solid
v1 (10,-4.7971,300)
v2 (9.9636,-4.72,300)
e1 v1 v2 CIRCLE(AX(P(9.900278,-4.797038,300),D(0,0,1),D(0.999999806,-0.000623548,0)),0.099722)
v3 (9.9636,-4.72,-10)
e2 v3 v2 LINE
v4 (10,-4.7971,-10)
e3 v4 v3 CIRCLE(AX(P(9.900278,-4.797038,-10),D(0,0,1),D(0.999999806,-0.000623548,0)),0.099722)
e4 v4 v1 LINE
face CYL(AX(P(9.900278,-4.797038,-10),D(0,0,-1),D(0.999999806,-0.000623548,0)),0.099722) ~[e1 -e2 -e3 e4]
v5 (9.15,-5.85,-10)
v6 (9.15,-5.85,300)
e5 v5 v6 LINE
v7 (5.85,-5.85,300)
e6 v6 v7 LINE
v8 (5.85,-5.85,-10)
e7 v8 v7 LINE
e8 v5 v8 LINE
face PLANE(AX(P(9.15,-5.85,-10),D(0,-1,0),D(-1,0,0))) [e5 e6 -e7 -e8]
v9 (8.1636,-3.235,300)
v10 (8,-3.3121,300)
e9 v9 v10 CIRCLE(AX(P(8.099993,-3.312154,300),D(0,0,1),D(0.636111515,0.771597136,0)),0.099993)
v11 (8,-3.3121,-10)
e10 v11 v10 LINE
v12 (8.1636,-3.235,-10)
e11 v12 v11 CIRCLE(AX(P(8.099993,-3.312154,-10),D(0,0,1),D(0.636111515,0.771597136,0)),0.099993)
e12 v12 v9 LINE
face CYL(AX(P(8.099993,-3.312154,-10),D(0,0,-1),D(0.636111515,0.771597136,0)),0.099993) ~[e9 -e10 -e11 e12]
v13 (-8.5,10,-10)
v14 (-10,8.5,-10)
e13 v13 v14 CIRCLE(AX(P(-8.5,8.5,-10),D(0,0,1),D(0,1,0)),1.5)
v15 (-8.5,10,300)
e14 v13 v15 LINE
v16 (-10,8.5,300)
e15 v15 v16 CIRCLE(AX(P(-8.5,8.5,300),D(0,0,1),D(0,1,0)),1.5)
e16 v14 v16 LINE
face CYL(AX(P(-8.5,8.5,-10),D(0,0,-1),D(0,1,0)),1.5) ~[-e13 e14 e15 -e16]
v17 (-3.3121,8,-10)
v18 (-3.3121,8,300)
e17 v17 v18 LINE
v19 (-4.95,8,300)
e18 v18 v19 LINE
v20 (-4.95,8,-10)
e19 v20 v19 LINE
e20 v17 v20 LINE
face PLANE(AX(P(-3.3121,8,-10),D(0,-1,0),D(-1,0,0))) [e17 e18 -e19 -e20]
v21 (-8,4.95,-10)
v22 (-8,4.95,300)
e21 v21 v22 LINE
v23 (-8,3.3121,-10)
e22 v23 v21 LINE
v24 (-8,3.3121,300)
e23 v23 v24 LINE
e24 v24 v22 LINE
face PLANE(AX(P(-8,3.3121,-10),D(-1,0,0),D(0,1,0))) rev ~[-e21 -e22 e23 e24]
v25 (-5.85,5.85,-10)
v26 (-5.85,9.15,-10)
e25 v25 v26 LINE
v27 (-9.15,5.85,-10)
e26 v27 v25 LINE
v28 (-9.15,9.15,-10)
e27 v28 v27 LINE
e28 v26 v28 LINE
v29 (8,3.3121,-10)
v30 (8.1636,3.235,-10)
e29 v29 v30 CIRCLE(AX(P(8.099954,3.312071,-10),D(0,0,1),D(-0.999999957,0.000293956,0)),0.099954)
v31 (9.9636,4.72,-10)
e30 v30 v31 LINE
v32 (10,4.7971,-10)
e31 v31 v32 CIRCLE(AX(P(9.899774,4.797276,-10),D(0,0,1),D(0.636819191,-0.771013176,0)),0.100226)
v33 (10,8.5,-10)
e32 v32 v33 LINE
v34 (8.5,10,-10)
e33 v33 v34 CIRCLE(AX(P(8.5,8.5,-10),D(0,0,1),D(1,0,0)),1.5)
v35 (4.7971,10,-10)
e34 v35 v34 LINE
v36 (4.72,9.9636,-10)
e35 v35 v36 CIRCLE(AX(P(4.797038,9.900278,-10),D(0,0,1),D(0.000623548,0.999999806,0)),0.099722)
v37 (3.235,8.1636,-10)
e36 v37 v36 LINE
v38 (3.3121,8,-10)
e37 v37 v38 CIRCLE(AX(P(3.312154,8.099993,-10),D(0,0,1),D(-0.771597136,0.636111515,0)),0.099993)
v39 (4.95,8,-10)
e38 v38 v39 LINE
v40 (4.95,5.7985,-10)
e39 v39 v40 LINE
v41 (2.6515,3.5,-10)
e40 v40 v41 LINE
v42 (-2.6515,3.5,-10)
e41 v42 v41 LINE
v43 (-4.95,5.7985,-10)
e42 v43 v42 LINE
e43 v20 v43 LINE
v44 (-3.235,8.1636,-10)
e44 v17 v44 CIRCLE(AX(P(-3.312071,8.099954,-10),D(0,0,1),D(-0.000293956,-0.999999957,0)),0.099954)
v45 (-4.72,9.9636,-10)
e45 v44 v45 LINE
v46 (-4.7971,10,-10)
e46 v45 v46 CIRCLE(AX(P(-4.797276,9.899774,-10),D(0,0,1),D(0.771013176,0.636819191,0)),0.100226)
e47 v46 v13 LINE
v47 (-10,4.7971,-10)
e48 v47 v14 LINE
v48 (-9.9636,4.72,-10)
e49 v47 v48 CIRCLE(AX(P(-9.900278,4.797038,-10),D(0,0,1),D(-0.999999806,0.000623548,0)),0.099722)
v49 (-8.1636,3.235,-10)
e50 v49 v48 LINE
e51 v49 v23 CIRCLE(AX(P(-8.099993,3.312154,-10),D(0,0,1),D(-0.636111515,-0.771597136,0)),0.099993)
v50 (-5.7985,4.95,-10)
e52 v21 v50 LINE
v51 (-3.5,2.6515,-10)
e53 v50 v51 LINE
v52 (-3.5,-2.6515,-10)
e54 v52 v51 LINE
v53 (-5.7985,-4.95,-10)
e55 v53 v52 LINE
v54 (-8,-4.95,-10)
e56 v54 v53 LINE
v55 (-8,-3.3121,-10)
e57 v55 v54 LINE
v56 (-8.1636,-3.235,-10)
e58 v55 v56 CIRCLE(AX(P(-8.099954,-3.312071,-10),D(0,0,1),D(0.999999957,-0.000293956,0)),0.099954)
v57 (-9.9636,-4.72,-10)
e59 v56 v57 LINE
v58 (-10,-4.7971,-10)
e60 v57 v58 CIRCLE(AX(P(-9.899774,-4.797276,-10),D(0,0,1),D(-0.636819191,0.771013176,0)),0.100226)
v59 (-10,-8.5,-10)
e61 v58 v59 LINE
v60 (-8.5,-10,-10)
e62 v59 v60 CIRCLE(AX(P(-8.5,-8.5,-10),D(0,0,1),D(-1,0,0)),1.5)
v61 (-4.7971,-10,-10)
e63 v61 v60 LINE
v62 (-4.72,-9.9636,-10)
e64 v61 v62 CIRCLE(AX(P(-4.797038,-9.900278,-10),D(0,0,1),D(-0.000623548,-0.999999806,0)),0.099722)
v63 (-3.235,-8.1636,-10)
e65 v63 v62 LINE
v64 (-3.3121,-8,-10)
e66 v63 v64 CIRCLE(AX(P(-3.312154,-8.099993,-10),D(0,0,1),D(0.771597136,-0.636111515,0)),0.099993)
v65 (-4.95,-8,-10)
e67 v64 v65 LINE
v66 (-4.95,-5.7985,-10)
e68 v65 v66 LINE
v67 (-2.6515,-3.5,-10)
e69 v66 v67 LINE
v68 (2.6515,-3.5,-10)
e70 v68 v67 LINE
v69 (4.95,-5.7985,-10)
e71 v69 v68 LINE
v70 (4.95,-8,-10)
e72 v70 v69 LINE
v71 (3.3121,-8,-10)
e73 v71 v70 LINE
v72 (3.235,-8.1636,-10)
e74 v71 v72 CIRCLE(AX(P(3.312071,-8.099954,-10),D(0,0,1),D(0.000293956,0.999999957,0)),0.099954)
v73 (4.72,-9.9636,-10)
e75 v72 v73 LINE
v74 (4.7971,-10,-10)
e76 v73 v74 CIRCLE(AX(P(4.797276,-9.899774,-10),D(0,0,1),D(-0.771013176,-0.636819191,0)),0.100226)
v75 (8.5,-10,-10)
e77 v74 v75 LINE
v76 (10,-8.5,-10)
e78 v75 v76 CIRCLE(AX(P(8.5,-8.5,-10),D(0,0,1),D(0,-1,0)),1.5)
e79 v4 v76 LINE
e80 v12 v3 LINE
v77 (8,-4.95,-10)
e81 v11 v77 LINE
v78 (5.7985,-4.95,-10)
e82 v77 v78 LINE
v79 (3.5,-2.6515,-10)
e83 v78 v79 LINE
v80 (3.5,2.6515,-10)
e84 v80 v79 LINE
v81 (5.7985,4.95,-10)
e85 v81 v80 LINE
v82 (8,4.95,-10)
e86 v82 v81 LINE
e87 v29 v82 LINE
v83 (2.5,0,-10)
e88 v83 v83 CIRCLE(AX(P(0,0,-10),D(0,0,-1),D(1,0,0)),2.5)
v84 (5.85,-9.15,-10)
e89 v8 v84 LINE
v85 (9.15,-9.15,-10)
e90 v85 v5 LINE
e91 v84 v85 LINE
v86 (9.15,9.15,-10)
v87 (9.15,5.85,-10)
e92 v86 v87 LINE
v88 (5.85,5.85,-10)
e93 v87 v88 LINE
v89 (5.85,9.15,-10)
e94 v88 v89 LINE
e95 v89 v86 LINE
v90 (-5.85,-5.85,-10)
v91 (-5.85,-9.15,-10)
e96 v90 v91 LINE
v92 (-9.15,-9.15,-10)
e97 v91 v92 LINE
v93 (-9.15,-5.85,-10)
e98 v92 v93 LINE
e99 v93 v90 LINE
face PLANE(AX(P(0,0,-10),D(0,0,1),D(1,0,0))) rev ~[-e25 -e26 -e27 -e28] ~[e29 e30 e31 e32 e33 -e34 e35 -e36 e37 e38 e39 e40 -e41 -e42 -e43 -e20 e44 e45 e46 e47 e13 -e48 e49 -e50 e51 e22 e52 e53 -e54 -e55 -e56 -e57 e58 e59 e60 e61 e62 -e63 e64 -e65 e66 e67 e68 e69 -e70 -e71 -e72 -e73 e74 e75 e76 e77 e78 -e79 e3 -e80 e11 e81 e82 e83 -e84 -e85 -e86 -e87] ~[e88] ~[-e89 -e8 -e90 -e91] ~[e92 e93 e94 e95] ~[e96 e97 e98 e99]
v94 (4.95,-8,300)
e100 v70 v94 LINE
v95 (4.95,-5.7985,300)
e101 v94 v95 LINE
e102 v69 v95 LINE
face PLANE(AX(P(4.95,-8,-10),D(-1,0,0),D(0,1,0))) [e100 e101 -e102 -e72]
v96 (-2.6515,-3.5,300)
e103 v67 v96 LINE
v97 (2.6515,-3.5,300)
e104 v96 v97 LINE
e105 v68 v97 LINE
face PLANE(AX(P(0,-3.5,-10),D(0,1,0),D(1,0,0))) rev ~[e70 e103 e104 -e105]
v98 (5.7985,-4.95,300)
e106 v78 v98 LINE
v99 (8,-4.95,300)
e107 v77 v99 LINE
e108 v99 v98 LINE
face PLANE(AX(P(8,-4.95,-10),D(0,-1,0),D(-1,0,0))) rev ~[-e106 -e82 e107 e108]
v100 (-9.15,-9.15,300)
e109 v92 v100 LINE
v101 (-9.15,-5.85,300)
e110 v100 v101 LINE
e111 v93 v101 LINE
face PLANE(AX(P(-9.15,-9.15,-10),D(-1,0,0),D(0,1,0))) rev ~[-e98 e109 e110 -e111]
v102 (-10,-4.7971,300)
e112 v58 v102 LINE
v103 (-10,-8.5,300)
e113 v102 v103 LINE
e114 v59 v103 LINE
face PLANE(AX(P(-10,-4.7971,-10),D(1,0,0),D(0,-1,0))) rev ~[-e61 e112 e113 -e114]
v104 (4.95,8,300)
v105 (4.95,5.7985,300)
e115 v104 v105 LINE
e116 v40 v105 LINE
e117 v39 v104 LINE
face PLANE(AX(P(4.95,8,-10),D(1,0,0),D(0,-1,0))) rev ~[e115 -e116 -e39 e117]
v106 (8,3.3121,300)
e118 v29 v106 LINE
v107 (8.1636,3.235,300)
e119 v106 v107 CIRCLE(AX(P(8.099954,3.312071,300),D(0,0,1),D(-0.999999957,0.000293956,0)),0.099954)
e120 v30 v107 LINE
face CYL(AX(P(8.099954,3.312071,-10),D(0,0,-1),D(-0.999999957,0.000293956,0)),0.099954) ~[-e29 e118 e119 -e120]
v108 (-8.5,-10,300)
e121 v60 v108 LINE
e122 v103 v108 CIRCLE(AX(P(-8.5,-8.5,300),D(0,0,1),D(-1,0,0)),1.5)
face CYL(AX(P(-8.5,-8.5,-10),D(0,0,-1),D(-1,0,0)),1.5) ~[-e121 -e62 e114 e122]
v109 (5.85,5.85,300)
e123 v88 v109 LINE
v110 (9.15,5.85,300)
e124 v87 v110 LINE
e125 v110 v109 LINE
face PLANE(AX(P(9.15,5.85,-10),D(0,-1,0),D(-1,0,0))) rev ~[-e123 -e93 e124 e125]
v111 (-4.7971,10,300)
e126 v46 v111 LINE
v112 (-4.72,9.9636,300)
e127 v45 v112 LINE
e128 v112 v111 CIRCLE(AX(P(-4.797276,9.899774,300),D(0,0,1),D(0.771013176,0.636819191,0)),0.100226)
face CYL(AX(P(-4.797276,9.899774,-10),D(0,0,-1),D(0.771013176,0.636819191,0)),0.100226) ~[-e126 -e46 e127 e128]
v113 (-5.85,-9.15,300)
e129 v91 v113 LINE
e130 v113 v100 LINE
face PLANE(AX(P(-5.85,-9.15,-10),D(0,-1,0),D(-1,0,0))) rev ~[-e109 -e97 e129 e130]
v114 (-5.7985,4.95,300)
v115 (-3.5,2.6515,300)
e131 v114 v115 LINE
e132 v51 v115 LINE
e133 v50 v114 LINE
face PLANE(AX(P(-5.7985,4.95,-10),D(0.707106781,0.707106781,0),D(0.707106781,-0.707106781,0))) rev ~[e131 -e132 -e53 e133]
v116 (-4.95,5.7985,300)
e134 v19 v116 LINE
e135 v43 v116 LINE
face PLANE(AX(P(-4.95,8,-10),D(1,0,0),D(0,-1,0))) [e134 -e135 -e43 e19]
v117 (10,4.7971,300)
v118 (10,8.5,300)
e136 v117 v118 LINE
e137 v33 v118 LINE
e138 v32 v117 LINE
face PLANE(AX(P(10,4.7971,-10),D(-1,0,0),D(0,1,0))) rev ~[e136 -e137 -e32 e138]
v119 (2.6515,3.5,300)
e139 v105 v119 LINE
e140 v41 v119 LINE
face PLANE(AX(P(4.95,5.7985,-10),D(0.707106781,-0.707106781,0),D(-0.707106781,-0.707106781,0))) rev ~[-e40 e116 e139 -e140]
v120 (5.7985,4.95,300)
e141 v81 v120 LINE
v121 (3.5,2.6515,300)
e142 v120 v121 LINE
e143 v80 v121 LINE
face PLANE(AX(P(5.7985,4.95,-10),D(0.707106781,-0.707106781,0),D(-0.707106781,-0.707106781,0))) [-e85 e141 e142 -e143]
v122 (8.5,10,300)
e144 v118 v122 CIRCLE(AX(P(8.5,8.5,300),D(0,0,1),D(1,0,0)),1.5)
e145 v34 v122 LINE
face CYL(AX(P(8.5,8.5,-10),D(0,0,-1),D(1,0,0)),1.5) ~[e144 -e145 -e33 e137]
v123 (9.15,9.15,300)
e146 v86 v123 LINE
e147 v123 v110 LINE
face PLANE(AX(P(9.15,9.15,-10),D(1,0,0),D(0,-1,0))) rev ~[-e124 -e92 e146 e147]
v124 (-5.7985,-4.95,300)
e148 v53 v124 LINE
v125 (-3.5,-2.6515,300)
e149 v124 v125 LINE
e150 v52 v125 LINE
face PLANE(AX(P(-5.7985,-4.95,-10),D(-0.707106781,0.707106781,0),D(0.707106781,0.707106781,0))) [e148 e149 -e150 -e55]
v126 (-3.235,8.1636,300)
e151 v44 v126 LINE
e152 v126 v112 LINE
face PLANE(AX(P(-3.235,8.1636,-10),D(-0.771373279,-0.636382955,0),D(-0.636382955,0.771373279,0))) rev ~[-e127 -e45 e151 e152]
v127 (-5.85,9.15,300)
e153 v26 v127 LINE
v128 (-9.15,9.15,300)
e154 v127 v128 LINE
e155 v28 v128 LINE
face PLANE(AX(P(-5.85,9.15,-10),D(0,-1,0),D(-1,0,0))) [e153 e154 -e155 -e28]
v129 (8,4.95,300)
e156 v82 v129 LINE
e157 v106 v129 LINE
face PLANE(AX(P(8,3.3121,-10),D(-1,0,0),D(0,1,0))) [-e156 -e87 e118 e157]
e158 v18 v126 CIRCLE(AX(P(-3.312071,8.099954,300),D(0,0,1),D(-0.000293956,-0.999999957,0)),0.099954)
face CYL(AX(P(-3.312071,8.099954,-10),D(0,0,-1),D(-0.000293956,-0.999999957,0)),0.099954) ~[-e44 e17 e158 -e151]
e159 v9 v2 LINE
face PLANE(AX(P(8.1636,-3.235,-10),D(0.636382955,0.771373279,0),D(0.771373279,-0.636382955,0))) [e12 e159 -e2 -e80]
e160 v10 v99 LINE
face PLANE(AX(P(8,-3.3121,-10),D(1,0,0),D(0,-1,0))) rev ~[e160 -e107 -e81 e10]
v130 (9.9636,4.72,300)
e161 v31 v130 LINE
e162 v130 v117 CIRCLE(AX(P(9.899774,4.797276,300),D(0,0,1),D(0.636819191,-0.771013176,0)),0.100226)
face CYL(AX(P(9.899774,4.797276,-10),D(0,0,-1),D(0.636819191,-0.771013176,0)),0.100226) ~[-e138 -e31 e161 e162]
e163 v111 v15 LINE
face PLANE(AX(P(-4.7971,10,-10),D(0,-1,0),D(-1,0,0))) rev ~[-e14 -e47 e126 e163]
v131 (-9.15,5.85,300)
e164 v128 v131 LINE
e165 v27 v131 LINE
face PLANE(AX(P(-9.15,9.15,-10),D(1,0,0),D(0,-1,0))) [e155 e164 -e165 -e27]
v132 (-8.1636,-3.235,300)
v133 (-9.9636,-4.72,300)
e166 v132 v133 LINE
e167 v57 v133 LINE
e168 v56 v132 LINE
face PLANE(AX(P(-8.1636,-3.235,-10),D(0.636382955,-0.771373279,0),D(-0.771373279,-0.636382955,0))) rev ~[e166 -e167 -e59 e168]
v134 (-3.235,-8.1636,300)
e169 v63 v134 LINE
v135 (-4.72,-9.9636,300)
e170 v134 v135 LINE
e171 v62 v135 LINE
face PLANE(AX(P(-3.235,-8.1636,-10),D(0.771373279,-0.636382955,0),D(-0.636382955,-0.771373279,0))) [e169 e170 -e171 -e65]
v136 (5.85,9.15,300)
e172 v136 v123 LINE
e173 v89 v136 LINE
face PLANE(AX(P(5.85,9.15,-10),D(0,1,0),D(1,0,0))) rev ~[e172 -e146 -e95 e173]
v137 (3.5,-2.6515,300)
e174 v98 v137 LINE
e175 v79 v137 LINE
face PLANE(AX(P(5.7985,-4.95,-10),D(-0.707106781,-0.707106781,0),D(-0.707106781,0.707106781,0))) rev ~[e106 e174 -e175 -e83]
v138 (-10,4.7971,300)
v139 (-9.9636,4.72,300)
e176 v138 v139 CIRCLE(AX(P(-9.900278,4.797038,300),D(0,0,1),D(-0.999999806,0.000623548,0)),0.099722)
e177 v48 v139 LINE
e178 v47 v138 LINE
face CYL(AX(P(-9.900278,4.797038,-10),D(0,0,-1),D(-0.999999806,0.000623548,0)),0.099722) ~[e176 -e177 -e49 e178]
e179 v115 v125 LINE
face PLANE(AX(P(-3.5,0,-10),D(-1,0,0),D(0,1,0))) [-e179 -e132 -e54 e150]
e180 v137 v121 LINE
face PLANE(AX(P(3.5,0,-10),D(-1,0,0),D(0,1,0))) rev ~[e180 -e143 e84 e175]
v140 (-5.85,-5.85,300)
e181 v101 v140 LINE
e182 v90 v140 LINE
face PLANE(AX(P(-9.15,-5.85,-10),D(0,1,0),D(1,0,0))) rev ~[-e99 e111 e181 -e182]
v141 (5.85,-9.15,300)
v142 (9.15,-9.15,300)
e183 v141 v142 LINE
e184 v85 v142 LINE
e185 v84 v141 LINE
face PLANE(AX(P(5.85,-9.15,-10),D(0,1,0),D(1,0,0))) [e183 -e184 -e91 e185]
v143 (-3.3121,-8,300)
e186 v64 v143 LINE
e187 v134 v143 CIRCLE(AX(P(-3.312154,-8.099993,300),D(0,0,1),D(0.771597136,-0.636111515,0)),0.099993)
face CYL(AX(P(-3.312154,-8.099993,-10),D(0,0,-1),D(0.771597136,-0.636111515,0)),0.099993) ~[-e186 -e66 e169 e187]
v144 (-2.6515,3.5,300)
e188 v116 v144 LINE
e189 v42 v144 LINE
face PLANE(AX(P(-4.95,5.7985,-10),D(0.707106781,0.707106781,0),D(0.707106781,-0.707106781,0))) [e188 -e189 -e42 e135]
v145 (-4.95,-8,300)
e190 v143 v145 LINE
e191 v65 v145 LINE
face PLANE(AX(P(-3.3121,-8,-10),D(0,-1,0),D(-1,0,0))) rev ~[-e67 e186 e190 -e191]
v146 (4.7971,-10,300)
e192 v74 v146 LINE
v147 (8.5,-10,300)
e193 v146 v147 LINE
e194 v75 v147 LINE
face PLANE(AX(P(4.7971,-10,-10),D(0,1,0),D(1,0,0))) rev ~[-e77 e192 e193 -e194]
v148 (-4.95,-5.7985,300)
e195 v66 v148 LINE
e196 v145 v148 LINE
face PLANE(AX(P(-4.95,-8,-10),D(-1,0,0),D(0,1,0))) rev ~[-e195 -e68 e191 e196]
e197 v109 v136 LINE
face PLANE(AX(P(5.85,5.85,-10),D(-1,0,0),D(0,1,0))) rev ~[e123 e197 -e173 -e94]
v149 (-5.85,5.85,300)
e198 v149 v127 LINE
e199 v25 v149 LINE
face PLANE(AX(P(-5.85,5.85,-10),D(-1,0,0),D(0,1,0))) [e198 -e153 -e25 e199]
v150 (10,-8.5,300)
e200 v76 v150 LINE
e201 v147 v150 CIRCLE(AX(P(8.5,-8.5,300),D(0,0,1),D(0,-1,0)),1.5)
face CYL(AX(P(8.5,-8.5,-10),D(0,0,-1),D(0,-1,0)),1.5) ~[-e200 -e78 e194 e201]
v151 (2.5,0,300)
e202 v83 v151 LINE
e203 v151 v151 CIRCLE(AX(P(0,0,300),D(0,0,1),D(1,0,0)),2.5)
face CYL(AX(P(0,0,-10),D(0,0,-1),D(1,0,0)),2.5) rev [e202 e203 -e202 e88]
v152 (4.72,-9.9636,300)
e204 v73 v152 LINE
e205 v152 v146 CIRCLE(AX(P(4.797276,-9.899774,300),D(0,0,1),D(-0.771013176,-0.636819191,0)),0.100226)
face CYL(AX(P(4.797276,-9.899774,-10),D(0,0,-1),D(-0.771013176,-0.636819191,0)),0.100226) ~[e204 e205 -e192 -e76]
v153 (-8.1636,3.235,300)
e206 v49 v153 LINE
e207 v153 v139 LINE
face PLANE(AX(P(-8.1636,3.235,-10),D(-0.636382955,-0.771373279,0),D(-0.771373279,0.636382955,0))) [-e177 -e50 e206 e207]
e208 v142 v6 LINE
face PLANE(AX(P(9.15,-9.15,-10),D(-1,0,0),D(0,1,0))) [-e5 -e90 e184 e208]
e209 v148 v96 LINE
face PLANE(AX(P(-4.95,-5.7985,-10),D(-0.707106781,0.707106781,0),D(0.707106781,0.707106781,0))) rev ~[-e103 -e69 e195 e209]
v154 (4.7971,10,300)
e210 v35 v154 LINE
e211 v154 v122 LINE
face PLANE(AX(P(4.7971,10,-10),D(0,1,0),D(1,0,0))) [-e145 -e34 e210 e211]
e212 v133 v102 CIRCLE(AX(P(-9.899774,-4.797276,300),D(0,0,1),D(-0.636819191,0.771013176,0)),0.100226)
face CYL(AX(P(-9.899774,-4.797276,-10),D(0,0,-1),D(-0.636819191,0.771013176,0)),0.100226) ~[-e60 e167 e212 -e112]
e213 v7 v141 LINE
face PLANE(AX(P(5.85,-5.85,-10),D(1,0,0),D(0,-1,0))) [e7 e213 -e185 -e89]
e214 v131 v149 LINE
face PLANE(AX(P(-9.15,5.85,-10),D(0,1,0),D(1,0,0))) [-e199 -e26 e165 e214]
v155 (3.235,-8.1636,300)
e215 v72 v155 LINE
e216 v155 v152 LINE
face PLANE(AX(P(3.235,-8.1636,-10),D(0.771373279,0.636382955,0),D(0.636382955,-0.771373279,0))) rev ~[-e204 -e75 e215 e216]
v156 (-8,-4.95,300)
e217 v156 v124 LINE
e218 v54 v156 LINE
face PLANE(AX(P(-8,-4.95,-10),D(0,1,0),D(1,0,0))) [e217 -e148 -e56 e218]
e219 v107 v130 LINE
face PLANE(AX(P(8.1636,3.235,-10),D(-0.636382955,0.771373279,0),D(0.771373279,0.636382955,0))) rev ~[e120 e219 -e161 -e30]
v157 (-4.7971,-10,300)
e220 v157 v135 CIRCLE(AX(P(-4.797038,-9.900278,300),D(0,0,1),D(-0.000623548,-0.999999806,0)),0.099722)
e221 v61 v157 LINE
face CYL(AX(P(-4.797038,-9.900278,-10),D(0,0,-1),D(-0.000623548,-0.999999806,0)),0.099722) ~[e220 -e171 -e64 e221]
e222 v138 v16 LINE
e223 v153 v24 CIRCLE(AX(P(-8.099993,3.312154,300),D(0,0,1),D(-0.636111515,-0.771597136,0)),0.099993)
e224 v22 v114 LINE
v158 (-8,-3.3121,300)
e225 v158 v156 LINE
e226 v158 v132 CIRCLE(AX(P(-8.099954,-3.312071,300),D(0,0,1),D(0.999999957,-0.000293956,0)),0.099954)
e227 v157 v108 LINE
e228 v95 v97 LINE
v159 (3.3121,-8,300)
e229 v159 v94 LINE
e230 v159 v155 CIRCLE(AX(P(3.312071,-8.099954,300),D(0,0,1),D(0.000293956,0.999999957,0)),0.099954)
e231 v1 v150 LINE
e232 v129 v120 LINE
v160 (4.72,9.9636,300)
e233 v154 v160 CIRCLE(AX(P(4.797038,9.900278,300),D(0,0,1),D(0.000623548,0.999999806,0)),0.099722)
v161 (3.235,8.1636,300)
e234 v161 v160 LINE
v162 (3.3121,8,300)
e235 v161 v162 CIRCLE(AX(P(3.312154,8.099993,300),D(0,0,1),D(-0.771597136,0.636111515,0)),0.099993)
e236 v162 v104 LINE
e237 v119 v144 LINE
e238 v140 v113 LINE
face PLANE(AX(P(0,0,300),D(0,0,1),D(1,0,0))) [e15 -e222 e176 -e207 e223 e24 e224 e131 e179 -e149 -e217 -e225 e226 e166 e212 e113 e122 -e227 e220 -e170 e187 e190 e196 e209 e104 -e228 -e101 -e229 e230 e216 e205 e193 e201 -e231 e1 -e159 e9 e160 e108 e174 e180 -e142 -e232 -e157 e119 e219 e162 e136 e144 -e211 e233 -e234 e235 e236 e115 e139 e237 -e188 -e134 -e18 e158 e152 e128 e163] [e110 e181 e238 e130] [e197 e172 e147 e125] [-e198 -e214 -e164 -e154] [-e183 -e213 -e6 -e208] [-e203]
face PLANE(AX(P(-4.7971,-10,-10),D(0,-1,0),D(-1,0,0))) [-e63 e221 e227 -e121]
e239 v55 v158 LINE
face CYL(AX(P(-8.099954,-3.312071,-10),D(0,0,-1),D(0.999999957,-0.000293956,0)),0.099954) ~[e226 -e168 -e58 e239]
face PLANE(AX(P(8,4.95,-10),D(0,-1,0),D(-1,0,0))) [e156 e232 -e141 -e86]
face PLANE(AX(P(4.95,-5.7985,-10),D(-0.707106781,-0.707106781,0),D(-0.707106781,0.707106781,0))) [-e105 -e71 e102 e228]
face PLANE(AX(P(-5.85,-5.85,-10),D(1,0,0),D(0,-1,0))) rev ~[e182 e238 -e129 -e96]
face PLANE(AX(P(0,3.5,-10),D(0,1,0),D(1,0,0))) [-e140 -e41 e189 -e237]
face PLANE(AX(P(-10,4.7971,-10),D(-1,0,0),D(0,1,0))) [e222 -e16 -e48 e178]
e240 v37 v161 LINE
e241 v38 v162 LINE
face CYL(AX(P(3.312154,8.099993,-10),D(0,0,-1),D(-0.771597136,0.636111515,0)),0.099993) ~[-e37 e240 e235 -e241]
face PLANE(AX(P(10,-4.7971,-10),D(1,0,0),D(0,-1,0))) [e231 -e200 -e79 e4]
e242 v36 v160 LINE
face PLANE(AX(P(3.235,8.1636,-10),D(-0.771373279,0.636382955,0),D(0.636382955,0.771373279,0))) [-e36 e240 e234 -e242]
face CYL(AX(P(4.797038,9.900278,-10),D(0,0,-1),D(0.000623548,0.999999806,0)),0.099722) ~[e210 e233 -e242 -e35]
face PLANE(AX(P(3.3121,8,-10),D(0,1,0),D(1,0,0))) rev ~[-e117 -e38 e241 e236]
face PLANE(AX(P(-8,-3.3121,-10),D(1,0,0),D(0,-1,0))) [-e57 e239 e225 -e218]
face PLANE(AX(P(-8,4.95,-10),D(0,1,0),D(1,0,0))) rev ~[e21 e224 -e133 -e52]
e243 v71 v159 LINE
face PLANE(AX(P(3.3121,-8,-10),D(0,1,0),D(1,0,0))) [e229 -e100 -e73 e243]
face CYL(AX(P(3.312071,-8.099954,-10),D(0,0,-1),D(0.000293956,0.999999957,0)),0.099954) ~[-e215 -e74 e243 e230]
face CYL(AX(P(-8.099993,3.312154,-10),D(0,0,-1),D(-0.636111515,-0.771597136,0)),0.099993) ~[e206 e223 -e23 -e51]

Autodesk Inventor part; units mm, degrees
ref_plane "Начальная плоскость" through (0, 0, -10) normal (0, 0, 1) x (1, 0, 0)
ref_plane "Конечная плоскость" through (0, 0, 300) normal (0, 0, 1) x (1, 0, 0)
sketch "Эскиз" plane through (0, 0, 0) normal (0, 0, 1) x (1, 0, 0)
  line L0 (-14.4349, 0) -> (14.4349, 0) projected
  line L1 (0, -14) -> (0, 14) projected
  line L2 (0, 0) -> (7.5, 7.5) construction
  circle A0 centre (7.5, 7.5) radius 1.65 construction
  line L3 (5.85, 9.15) -> (9.15, 9.15)
  line L4 (9.15, 9.15) -> (9.15, 5.85)
  line L5 (9.15, 5.85) -> (5.85, 5.85)
  line L6 (5.85, 5.85) -> (5.85, 9.15)
  line L7 (3.235, 8.1636) -> (4.72, 9.9636)
  line L8 (4.7971, 10) -> (8.5, 10)
  line L9 (3.3121, 8) -> (4.95, 8)
  line L10 (4.95, 8) -> (4.95, 5.7985)
  line L11 (4.95, 5.7985) -> (2.6515, 3.5)
  line L12 (0, 3.5) -> (2.6515, 3.5)
  circle A1 centre (0, 0) radius 2.5
  line L13 (8.1636, 3.235) -> (9.9636, 4.72)
  line L14 (10, 4.7971) -> (10, 8.5)
  line L15 (8, 3.3121) -> (8, 4.95)
  line L16 (8, 4.95) -> (5.7985, 4.95)
  line L17 (5.7985, 4.95) -> (3.5, 2.6515)
  line L18 (3.5, 0) -> (3.5, 2.6515)
  arc A2 (10, 8.5) -> (8.5, 10) centre (8.5, 8.5) ccw
  line L19 (0, 0) -> (-7.5, 7.5) construction
  circle A3 centre (-7.5, 7.5) radius 1.65 construction
  line L20 (-5.85, 9.15) -> (-9.15, 9.15)
  line L21 (-9.15, 9.15) -> (-9.15, 5.85)
  line L22 (-9.15, 5.85) -> (-5.85, 5.85)
  line L23 (-5.85, 5.85) -> (-5.85, 9.15)
  line L24 (-3.235, 8.1636) -> (-4.72, 9.9636)
  line L25 (-4.7971, 10) -> (-8.5, 10)
  line L26 (-3.3121, 8) -> (-4.95, 8)
  line L27 (-4.95, 8) -> (-4.95, 5.7985)
  line L28 (-4.95, 5.7985) -> (-2.6515, 3.5)
  line L29 (0, 3.5) -> (-2.6515, 3.5)
  line L30 (-3.5, 0) -> (-3.5, 2.6515)
  line L31 (-5.7985, 4.95) -> (-3.5, 2.6515)
  line L32 (-8, 4.95) -> (-5.7985, 4.95)
  line L33 (-8, 3.3121) -> (-8, 4.95)
  line L34 (-8.1636, 3.235) -> (-9.9636, 4.72)
  line L35 (-10, 4.7971) -> (-10, 8.5)
  arc A4 (-8.5, 10) -> (-10, 8.5) centre (-8.5, 8.5) ccw
  line L36 (0, 14) -> (0, -14)
  line L37 (0, 0) -> (7.5, -7.5) construction
  circle A5 centre (7.5, -7.5) radius 1.65 construction
  line L38 (5.85, -9.15) -> (9.15, -9.15)
  line L39 (9.15, -9.15) -> (9.15, -5.85)
  line L40 (9.15, -5.85) -> (5.85, -5.85)
  line L41 (5.85, -5.85) -> (5.85, -9.15)
  line L42 (3.235, -8.1636) -> (4.72, -9.9636)
  line L43 (4.7971, -10) -> (8.5, -10)
  line L44 (3.3121, -8) -> (4.95, -8)
  line L45 (4.95, -8) -> (4.95, -5.7985)
  line L46 (4.95, -5.7985) -> (2.6515, -3.5)
  line L47 (0, -3.5) -> (2.6515, -3.5)
  line L48 (3.5, 0) -> (3.5, -2.6515)
  line L49 (5.7985, -4.95) -> (3.5, -2.6515)
  line L50 (8, -4.95) -> (5.7985, -4.95)
  line L51 (8, -3.3121) -> (8, -4.95)
  line L52 (8.1636, -3.235) -> (9.9636, -4.72)
  line L53 (10, -4.7971) -> (10, -8.5)
  arc A6 (8.5, -10) -> (10, -8.5) centre (8.5, -8.5) ccw
  line L54 (0, 0) -> (-7.5, -7.5) construction
  line L55 (-4.95, -8) -> (-4.95, -5.7985)
  line L56 (-3.3121, -8) -> (-4.95, -8)
  line L57 (-5.7985, -4.95) -> (-3.5, -2.6515)
  line L58 (-4.95, -5.7985) -> (-2.6515, -3.5)
  line L59 (-3.5, 0) -> (-3.5, -2.6515)
  line L60 (0, -3.5) -> (-2.6515, -3.5)
  circle A7 centre (-7.5, -7.5) radius 1.65 construction
  line L61 (-5.85, -5.85) -> (-5.85, -9.15)
  line L62 (-5.85, -9.15) -> (-9.15, -9.15)
  line L63 (-9.15, -9.15) -> (-9.15, -5.85)
  line L64 (-9.15, -5.85) -> (-5.85, -5.85)
  line L65 (-3.235, -8.1636) -> (-4.72, -9.9636)
  line L66 (-8, -4.95) -> (-5.7985, -4.95)
  line L67 (-8, -3.3121) -> (-8, -4.95)
  line L68 (-8.1636, -3.235) -> (-9.9636, -4.72)
  line L69 (-4.7971, -10) -> (-8.5, -10)
  line L70 (-10, -4.7971) -> (-10, -8.5)
  arc A8 (-10, -8.5) -> (-8.5, -10) centre (-8.5, -8.5) ccw
  arc A9 (3.235, 8.1636) -> (3.3121, 8) centre (3.3121, 8.1) ccw
  arc A10 (4.7971, 10) -> (4.72, 9.9636) centre (4.7971, 9.9) ccw
  arc A11 (8, 3.3121) -> (8.1636, 3.235) centre (8.1, 3.3121) ccw
  arc A12 (9.9636, 4.72) -> (10, 4.7971) centre (9.9, 4.7971) ccw
  arc A13 (-3.3121, 8) -> (-3.235, 8.1636) centre (-3.3121, 8.1) ccw
  arc A14 (-4.72, 9.9636) -> (-4.7971, 10) centre (-4.7971, 9.9) ccw
  arc A15 (-8.1636, 3.235) -> (-8, 3.3121) centre (-8.1, 3.3121) ccw
  arc A16 (-10, 4.7971) -> (-9.9636, 4.72) centre (-9.9, 4.7971) ccw
  arc A17 (-8, -3.3121) -> (-8.1636, -3.235) centre (-8.1, -3.3121) ccw
  arc A18 (-9.9636, -4.72) -> (-10, -4.7971) centre (-9.9, -4.7971) ccw
  arc A19 (-3.235, -8.1636) -> (-3.3121, -8) centre (-3.3121, -8.1) ccw
  arc A20 (-4.7971, -10) -> (-4.72, -9.9636) centre (-4.7971, -9.9) ccw
  arc A21 (4.72, -9.9636) -> (4.7971, -10) centre (4.7971, -9.9) ccw
  arc A22 (3.3121, -8) -> (3.235, -8.1636) centre (3.3121, -8.1) ccw
  arc A23 (8.1636, -3.235) -> (8, -3.3121) centre (8.1, -3.3121) ccw
  arc A24 (10, -4.7971) -> (9.9636, -4.72) centre (9.9, -4.7971) ccw
  point P0 (3.1, 8)
  point P1 (4.75, 10)
  point P2 (7.5, 9.15)
  point P3 (8, 3.1)
  point P4 (10, 4.75)
  point P5 (7.5, 5.85)
  point P6 (9.15, 7.5)
  point P7 (-3.1, 8)
  point P8 (-4.75, 10)
  point P9 (-7.5, 9.15)
  point P10 (-8, 3.1)
  point P11 (-10, 4.75)
  point P12 (-7.5, 5.85)
  point P13 (-9.15, 7.5)
  point P14 (3.1, -8)
  point P15 (4.75, -10)
  point P16 (7.5, -9.15)
  point P17 (8, -3.1)
  point P18 (10, -4.75)
  point P19 (7.5, -5.85)
  point P20 (9.15, -7.5)
  point P21 (-3.1, -8)
  point P22 (-7.5, -5.85)
  point P23 (-7.5, -9.15)
  point P24 (-9.15, -7.5)
  point P25 (-4.75, -10)
  point P26 (-8, -3.1)
  point P27 (-10, -4.75)
  dimension "d0" = 45
  dimension "d1" = 3.3
  dimension "d2" = 1.5
  dimension "d3" = 1.2
  dimension "d4" = 5
  dimension "d5" = 6.5
  dimension "d6" = 15
  dimension "d7" = 20
  dimension "d8" = 9.9
  dimension "d9" = 9.5
  dimension "d10" = 6.2
  dimension "d11" = 2
  dimension "d18" = 0.1
  dimension "d19" = 0.1
extrude "Тело" add sketch "Эскиз" along normal up to surface (310 mm away) from surface at -10 contours A1 L1 L12 L11 L10 L9 A9 L7 A10 L8 A2 L14 A12 L13 A11 L15 L16 L17 L18 L0 | L0 L48 L49 L50 L51 A23 L52 A24 L53 A6 L43 A21 L42 A22 L44 L45 L46 L47 L1 A1 | A1 L0 L30 L31 L32 L33 A15 L34 A16 L35 A4 L25 A14 L24 A13 L26 L27 L28 L29 L1 | L1 L60 L58 L55 L56 A19 L65 A20 L69 A8 L70 A18 L68 A17 L67 L66 L57 L59 L0 A1
sketch "Эскиз2" plane through (0, 0, 0) normal (0, 0, 1) x (1, 0, 0)
  line L0 (0, 0) -> (10, 0)
ref_plane "РабПлоскость3" through (0, 0, 0) normal (0, -1, 0) x (1, 0, 0)
sketch "Эскиз3" plane through (0, 0, 0) normal (0, -1, 0) x (1, 0, 0)
  line L0 (-2, -10) -> (12, -10)
  line L1 (-2, 300) -> (12, 300)
  dimension "d25" = 310
ref_plane "РабПлоскость7" through (-10, 0, -10) normal (0, 0, -1) x (-1, 0, 0)
split "Разделение4" plane through (-10, 0, -10) removes the side toward (0, 0, -1)
ref_plane "РабПлоскость8" through (-610, 0, 300) normal (0, 0, 1) x (1, 0, 0)
split "Разделение5" plane through (-610, 0, 300) removes the side toward (0, 0, 1)
ref_plane "РабПлоскость9" through (0, 0, 300) normal (0, 0, 1) x (1, 0, 0)
split "Разделение6" plane through (0, 0, 300) removes the side toward (0, 0, 1)
ref_plane "РабПлоскость10" through (0, 40, -10) normal (0, 0, -1) x (-1, 0, 0)
split "Разделение7" plane through (0, 40, -10) removes the side toward (0, 0, -1)
properties part number "короткая палка"
